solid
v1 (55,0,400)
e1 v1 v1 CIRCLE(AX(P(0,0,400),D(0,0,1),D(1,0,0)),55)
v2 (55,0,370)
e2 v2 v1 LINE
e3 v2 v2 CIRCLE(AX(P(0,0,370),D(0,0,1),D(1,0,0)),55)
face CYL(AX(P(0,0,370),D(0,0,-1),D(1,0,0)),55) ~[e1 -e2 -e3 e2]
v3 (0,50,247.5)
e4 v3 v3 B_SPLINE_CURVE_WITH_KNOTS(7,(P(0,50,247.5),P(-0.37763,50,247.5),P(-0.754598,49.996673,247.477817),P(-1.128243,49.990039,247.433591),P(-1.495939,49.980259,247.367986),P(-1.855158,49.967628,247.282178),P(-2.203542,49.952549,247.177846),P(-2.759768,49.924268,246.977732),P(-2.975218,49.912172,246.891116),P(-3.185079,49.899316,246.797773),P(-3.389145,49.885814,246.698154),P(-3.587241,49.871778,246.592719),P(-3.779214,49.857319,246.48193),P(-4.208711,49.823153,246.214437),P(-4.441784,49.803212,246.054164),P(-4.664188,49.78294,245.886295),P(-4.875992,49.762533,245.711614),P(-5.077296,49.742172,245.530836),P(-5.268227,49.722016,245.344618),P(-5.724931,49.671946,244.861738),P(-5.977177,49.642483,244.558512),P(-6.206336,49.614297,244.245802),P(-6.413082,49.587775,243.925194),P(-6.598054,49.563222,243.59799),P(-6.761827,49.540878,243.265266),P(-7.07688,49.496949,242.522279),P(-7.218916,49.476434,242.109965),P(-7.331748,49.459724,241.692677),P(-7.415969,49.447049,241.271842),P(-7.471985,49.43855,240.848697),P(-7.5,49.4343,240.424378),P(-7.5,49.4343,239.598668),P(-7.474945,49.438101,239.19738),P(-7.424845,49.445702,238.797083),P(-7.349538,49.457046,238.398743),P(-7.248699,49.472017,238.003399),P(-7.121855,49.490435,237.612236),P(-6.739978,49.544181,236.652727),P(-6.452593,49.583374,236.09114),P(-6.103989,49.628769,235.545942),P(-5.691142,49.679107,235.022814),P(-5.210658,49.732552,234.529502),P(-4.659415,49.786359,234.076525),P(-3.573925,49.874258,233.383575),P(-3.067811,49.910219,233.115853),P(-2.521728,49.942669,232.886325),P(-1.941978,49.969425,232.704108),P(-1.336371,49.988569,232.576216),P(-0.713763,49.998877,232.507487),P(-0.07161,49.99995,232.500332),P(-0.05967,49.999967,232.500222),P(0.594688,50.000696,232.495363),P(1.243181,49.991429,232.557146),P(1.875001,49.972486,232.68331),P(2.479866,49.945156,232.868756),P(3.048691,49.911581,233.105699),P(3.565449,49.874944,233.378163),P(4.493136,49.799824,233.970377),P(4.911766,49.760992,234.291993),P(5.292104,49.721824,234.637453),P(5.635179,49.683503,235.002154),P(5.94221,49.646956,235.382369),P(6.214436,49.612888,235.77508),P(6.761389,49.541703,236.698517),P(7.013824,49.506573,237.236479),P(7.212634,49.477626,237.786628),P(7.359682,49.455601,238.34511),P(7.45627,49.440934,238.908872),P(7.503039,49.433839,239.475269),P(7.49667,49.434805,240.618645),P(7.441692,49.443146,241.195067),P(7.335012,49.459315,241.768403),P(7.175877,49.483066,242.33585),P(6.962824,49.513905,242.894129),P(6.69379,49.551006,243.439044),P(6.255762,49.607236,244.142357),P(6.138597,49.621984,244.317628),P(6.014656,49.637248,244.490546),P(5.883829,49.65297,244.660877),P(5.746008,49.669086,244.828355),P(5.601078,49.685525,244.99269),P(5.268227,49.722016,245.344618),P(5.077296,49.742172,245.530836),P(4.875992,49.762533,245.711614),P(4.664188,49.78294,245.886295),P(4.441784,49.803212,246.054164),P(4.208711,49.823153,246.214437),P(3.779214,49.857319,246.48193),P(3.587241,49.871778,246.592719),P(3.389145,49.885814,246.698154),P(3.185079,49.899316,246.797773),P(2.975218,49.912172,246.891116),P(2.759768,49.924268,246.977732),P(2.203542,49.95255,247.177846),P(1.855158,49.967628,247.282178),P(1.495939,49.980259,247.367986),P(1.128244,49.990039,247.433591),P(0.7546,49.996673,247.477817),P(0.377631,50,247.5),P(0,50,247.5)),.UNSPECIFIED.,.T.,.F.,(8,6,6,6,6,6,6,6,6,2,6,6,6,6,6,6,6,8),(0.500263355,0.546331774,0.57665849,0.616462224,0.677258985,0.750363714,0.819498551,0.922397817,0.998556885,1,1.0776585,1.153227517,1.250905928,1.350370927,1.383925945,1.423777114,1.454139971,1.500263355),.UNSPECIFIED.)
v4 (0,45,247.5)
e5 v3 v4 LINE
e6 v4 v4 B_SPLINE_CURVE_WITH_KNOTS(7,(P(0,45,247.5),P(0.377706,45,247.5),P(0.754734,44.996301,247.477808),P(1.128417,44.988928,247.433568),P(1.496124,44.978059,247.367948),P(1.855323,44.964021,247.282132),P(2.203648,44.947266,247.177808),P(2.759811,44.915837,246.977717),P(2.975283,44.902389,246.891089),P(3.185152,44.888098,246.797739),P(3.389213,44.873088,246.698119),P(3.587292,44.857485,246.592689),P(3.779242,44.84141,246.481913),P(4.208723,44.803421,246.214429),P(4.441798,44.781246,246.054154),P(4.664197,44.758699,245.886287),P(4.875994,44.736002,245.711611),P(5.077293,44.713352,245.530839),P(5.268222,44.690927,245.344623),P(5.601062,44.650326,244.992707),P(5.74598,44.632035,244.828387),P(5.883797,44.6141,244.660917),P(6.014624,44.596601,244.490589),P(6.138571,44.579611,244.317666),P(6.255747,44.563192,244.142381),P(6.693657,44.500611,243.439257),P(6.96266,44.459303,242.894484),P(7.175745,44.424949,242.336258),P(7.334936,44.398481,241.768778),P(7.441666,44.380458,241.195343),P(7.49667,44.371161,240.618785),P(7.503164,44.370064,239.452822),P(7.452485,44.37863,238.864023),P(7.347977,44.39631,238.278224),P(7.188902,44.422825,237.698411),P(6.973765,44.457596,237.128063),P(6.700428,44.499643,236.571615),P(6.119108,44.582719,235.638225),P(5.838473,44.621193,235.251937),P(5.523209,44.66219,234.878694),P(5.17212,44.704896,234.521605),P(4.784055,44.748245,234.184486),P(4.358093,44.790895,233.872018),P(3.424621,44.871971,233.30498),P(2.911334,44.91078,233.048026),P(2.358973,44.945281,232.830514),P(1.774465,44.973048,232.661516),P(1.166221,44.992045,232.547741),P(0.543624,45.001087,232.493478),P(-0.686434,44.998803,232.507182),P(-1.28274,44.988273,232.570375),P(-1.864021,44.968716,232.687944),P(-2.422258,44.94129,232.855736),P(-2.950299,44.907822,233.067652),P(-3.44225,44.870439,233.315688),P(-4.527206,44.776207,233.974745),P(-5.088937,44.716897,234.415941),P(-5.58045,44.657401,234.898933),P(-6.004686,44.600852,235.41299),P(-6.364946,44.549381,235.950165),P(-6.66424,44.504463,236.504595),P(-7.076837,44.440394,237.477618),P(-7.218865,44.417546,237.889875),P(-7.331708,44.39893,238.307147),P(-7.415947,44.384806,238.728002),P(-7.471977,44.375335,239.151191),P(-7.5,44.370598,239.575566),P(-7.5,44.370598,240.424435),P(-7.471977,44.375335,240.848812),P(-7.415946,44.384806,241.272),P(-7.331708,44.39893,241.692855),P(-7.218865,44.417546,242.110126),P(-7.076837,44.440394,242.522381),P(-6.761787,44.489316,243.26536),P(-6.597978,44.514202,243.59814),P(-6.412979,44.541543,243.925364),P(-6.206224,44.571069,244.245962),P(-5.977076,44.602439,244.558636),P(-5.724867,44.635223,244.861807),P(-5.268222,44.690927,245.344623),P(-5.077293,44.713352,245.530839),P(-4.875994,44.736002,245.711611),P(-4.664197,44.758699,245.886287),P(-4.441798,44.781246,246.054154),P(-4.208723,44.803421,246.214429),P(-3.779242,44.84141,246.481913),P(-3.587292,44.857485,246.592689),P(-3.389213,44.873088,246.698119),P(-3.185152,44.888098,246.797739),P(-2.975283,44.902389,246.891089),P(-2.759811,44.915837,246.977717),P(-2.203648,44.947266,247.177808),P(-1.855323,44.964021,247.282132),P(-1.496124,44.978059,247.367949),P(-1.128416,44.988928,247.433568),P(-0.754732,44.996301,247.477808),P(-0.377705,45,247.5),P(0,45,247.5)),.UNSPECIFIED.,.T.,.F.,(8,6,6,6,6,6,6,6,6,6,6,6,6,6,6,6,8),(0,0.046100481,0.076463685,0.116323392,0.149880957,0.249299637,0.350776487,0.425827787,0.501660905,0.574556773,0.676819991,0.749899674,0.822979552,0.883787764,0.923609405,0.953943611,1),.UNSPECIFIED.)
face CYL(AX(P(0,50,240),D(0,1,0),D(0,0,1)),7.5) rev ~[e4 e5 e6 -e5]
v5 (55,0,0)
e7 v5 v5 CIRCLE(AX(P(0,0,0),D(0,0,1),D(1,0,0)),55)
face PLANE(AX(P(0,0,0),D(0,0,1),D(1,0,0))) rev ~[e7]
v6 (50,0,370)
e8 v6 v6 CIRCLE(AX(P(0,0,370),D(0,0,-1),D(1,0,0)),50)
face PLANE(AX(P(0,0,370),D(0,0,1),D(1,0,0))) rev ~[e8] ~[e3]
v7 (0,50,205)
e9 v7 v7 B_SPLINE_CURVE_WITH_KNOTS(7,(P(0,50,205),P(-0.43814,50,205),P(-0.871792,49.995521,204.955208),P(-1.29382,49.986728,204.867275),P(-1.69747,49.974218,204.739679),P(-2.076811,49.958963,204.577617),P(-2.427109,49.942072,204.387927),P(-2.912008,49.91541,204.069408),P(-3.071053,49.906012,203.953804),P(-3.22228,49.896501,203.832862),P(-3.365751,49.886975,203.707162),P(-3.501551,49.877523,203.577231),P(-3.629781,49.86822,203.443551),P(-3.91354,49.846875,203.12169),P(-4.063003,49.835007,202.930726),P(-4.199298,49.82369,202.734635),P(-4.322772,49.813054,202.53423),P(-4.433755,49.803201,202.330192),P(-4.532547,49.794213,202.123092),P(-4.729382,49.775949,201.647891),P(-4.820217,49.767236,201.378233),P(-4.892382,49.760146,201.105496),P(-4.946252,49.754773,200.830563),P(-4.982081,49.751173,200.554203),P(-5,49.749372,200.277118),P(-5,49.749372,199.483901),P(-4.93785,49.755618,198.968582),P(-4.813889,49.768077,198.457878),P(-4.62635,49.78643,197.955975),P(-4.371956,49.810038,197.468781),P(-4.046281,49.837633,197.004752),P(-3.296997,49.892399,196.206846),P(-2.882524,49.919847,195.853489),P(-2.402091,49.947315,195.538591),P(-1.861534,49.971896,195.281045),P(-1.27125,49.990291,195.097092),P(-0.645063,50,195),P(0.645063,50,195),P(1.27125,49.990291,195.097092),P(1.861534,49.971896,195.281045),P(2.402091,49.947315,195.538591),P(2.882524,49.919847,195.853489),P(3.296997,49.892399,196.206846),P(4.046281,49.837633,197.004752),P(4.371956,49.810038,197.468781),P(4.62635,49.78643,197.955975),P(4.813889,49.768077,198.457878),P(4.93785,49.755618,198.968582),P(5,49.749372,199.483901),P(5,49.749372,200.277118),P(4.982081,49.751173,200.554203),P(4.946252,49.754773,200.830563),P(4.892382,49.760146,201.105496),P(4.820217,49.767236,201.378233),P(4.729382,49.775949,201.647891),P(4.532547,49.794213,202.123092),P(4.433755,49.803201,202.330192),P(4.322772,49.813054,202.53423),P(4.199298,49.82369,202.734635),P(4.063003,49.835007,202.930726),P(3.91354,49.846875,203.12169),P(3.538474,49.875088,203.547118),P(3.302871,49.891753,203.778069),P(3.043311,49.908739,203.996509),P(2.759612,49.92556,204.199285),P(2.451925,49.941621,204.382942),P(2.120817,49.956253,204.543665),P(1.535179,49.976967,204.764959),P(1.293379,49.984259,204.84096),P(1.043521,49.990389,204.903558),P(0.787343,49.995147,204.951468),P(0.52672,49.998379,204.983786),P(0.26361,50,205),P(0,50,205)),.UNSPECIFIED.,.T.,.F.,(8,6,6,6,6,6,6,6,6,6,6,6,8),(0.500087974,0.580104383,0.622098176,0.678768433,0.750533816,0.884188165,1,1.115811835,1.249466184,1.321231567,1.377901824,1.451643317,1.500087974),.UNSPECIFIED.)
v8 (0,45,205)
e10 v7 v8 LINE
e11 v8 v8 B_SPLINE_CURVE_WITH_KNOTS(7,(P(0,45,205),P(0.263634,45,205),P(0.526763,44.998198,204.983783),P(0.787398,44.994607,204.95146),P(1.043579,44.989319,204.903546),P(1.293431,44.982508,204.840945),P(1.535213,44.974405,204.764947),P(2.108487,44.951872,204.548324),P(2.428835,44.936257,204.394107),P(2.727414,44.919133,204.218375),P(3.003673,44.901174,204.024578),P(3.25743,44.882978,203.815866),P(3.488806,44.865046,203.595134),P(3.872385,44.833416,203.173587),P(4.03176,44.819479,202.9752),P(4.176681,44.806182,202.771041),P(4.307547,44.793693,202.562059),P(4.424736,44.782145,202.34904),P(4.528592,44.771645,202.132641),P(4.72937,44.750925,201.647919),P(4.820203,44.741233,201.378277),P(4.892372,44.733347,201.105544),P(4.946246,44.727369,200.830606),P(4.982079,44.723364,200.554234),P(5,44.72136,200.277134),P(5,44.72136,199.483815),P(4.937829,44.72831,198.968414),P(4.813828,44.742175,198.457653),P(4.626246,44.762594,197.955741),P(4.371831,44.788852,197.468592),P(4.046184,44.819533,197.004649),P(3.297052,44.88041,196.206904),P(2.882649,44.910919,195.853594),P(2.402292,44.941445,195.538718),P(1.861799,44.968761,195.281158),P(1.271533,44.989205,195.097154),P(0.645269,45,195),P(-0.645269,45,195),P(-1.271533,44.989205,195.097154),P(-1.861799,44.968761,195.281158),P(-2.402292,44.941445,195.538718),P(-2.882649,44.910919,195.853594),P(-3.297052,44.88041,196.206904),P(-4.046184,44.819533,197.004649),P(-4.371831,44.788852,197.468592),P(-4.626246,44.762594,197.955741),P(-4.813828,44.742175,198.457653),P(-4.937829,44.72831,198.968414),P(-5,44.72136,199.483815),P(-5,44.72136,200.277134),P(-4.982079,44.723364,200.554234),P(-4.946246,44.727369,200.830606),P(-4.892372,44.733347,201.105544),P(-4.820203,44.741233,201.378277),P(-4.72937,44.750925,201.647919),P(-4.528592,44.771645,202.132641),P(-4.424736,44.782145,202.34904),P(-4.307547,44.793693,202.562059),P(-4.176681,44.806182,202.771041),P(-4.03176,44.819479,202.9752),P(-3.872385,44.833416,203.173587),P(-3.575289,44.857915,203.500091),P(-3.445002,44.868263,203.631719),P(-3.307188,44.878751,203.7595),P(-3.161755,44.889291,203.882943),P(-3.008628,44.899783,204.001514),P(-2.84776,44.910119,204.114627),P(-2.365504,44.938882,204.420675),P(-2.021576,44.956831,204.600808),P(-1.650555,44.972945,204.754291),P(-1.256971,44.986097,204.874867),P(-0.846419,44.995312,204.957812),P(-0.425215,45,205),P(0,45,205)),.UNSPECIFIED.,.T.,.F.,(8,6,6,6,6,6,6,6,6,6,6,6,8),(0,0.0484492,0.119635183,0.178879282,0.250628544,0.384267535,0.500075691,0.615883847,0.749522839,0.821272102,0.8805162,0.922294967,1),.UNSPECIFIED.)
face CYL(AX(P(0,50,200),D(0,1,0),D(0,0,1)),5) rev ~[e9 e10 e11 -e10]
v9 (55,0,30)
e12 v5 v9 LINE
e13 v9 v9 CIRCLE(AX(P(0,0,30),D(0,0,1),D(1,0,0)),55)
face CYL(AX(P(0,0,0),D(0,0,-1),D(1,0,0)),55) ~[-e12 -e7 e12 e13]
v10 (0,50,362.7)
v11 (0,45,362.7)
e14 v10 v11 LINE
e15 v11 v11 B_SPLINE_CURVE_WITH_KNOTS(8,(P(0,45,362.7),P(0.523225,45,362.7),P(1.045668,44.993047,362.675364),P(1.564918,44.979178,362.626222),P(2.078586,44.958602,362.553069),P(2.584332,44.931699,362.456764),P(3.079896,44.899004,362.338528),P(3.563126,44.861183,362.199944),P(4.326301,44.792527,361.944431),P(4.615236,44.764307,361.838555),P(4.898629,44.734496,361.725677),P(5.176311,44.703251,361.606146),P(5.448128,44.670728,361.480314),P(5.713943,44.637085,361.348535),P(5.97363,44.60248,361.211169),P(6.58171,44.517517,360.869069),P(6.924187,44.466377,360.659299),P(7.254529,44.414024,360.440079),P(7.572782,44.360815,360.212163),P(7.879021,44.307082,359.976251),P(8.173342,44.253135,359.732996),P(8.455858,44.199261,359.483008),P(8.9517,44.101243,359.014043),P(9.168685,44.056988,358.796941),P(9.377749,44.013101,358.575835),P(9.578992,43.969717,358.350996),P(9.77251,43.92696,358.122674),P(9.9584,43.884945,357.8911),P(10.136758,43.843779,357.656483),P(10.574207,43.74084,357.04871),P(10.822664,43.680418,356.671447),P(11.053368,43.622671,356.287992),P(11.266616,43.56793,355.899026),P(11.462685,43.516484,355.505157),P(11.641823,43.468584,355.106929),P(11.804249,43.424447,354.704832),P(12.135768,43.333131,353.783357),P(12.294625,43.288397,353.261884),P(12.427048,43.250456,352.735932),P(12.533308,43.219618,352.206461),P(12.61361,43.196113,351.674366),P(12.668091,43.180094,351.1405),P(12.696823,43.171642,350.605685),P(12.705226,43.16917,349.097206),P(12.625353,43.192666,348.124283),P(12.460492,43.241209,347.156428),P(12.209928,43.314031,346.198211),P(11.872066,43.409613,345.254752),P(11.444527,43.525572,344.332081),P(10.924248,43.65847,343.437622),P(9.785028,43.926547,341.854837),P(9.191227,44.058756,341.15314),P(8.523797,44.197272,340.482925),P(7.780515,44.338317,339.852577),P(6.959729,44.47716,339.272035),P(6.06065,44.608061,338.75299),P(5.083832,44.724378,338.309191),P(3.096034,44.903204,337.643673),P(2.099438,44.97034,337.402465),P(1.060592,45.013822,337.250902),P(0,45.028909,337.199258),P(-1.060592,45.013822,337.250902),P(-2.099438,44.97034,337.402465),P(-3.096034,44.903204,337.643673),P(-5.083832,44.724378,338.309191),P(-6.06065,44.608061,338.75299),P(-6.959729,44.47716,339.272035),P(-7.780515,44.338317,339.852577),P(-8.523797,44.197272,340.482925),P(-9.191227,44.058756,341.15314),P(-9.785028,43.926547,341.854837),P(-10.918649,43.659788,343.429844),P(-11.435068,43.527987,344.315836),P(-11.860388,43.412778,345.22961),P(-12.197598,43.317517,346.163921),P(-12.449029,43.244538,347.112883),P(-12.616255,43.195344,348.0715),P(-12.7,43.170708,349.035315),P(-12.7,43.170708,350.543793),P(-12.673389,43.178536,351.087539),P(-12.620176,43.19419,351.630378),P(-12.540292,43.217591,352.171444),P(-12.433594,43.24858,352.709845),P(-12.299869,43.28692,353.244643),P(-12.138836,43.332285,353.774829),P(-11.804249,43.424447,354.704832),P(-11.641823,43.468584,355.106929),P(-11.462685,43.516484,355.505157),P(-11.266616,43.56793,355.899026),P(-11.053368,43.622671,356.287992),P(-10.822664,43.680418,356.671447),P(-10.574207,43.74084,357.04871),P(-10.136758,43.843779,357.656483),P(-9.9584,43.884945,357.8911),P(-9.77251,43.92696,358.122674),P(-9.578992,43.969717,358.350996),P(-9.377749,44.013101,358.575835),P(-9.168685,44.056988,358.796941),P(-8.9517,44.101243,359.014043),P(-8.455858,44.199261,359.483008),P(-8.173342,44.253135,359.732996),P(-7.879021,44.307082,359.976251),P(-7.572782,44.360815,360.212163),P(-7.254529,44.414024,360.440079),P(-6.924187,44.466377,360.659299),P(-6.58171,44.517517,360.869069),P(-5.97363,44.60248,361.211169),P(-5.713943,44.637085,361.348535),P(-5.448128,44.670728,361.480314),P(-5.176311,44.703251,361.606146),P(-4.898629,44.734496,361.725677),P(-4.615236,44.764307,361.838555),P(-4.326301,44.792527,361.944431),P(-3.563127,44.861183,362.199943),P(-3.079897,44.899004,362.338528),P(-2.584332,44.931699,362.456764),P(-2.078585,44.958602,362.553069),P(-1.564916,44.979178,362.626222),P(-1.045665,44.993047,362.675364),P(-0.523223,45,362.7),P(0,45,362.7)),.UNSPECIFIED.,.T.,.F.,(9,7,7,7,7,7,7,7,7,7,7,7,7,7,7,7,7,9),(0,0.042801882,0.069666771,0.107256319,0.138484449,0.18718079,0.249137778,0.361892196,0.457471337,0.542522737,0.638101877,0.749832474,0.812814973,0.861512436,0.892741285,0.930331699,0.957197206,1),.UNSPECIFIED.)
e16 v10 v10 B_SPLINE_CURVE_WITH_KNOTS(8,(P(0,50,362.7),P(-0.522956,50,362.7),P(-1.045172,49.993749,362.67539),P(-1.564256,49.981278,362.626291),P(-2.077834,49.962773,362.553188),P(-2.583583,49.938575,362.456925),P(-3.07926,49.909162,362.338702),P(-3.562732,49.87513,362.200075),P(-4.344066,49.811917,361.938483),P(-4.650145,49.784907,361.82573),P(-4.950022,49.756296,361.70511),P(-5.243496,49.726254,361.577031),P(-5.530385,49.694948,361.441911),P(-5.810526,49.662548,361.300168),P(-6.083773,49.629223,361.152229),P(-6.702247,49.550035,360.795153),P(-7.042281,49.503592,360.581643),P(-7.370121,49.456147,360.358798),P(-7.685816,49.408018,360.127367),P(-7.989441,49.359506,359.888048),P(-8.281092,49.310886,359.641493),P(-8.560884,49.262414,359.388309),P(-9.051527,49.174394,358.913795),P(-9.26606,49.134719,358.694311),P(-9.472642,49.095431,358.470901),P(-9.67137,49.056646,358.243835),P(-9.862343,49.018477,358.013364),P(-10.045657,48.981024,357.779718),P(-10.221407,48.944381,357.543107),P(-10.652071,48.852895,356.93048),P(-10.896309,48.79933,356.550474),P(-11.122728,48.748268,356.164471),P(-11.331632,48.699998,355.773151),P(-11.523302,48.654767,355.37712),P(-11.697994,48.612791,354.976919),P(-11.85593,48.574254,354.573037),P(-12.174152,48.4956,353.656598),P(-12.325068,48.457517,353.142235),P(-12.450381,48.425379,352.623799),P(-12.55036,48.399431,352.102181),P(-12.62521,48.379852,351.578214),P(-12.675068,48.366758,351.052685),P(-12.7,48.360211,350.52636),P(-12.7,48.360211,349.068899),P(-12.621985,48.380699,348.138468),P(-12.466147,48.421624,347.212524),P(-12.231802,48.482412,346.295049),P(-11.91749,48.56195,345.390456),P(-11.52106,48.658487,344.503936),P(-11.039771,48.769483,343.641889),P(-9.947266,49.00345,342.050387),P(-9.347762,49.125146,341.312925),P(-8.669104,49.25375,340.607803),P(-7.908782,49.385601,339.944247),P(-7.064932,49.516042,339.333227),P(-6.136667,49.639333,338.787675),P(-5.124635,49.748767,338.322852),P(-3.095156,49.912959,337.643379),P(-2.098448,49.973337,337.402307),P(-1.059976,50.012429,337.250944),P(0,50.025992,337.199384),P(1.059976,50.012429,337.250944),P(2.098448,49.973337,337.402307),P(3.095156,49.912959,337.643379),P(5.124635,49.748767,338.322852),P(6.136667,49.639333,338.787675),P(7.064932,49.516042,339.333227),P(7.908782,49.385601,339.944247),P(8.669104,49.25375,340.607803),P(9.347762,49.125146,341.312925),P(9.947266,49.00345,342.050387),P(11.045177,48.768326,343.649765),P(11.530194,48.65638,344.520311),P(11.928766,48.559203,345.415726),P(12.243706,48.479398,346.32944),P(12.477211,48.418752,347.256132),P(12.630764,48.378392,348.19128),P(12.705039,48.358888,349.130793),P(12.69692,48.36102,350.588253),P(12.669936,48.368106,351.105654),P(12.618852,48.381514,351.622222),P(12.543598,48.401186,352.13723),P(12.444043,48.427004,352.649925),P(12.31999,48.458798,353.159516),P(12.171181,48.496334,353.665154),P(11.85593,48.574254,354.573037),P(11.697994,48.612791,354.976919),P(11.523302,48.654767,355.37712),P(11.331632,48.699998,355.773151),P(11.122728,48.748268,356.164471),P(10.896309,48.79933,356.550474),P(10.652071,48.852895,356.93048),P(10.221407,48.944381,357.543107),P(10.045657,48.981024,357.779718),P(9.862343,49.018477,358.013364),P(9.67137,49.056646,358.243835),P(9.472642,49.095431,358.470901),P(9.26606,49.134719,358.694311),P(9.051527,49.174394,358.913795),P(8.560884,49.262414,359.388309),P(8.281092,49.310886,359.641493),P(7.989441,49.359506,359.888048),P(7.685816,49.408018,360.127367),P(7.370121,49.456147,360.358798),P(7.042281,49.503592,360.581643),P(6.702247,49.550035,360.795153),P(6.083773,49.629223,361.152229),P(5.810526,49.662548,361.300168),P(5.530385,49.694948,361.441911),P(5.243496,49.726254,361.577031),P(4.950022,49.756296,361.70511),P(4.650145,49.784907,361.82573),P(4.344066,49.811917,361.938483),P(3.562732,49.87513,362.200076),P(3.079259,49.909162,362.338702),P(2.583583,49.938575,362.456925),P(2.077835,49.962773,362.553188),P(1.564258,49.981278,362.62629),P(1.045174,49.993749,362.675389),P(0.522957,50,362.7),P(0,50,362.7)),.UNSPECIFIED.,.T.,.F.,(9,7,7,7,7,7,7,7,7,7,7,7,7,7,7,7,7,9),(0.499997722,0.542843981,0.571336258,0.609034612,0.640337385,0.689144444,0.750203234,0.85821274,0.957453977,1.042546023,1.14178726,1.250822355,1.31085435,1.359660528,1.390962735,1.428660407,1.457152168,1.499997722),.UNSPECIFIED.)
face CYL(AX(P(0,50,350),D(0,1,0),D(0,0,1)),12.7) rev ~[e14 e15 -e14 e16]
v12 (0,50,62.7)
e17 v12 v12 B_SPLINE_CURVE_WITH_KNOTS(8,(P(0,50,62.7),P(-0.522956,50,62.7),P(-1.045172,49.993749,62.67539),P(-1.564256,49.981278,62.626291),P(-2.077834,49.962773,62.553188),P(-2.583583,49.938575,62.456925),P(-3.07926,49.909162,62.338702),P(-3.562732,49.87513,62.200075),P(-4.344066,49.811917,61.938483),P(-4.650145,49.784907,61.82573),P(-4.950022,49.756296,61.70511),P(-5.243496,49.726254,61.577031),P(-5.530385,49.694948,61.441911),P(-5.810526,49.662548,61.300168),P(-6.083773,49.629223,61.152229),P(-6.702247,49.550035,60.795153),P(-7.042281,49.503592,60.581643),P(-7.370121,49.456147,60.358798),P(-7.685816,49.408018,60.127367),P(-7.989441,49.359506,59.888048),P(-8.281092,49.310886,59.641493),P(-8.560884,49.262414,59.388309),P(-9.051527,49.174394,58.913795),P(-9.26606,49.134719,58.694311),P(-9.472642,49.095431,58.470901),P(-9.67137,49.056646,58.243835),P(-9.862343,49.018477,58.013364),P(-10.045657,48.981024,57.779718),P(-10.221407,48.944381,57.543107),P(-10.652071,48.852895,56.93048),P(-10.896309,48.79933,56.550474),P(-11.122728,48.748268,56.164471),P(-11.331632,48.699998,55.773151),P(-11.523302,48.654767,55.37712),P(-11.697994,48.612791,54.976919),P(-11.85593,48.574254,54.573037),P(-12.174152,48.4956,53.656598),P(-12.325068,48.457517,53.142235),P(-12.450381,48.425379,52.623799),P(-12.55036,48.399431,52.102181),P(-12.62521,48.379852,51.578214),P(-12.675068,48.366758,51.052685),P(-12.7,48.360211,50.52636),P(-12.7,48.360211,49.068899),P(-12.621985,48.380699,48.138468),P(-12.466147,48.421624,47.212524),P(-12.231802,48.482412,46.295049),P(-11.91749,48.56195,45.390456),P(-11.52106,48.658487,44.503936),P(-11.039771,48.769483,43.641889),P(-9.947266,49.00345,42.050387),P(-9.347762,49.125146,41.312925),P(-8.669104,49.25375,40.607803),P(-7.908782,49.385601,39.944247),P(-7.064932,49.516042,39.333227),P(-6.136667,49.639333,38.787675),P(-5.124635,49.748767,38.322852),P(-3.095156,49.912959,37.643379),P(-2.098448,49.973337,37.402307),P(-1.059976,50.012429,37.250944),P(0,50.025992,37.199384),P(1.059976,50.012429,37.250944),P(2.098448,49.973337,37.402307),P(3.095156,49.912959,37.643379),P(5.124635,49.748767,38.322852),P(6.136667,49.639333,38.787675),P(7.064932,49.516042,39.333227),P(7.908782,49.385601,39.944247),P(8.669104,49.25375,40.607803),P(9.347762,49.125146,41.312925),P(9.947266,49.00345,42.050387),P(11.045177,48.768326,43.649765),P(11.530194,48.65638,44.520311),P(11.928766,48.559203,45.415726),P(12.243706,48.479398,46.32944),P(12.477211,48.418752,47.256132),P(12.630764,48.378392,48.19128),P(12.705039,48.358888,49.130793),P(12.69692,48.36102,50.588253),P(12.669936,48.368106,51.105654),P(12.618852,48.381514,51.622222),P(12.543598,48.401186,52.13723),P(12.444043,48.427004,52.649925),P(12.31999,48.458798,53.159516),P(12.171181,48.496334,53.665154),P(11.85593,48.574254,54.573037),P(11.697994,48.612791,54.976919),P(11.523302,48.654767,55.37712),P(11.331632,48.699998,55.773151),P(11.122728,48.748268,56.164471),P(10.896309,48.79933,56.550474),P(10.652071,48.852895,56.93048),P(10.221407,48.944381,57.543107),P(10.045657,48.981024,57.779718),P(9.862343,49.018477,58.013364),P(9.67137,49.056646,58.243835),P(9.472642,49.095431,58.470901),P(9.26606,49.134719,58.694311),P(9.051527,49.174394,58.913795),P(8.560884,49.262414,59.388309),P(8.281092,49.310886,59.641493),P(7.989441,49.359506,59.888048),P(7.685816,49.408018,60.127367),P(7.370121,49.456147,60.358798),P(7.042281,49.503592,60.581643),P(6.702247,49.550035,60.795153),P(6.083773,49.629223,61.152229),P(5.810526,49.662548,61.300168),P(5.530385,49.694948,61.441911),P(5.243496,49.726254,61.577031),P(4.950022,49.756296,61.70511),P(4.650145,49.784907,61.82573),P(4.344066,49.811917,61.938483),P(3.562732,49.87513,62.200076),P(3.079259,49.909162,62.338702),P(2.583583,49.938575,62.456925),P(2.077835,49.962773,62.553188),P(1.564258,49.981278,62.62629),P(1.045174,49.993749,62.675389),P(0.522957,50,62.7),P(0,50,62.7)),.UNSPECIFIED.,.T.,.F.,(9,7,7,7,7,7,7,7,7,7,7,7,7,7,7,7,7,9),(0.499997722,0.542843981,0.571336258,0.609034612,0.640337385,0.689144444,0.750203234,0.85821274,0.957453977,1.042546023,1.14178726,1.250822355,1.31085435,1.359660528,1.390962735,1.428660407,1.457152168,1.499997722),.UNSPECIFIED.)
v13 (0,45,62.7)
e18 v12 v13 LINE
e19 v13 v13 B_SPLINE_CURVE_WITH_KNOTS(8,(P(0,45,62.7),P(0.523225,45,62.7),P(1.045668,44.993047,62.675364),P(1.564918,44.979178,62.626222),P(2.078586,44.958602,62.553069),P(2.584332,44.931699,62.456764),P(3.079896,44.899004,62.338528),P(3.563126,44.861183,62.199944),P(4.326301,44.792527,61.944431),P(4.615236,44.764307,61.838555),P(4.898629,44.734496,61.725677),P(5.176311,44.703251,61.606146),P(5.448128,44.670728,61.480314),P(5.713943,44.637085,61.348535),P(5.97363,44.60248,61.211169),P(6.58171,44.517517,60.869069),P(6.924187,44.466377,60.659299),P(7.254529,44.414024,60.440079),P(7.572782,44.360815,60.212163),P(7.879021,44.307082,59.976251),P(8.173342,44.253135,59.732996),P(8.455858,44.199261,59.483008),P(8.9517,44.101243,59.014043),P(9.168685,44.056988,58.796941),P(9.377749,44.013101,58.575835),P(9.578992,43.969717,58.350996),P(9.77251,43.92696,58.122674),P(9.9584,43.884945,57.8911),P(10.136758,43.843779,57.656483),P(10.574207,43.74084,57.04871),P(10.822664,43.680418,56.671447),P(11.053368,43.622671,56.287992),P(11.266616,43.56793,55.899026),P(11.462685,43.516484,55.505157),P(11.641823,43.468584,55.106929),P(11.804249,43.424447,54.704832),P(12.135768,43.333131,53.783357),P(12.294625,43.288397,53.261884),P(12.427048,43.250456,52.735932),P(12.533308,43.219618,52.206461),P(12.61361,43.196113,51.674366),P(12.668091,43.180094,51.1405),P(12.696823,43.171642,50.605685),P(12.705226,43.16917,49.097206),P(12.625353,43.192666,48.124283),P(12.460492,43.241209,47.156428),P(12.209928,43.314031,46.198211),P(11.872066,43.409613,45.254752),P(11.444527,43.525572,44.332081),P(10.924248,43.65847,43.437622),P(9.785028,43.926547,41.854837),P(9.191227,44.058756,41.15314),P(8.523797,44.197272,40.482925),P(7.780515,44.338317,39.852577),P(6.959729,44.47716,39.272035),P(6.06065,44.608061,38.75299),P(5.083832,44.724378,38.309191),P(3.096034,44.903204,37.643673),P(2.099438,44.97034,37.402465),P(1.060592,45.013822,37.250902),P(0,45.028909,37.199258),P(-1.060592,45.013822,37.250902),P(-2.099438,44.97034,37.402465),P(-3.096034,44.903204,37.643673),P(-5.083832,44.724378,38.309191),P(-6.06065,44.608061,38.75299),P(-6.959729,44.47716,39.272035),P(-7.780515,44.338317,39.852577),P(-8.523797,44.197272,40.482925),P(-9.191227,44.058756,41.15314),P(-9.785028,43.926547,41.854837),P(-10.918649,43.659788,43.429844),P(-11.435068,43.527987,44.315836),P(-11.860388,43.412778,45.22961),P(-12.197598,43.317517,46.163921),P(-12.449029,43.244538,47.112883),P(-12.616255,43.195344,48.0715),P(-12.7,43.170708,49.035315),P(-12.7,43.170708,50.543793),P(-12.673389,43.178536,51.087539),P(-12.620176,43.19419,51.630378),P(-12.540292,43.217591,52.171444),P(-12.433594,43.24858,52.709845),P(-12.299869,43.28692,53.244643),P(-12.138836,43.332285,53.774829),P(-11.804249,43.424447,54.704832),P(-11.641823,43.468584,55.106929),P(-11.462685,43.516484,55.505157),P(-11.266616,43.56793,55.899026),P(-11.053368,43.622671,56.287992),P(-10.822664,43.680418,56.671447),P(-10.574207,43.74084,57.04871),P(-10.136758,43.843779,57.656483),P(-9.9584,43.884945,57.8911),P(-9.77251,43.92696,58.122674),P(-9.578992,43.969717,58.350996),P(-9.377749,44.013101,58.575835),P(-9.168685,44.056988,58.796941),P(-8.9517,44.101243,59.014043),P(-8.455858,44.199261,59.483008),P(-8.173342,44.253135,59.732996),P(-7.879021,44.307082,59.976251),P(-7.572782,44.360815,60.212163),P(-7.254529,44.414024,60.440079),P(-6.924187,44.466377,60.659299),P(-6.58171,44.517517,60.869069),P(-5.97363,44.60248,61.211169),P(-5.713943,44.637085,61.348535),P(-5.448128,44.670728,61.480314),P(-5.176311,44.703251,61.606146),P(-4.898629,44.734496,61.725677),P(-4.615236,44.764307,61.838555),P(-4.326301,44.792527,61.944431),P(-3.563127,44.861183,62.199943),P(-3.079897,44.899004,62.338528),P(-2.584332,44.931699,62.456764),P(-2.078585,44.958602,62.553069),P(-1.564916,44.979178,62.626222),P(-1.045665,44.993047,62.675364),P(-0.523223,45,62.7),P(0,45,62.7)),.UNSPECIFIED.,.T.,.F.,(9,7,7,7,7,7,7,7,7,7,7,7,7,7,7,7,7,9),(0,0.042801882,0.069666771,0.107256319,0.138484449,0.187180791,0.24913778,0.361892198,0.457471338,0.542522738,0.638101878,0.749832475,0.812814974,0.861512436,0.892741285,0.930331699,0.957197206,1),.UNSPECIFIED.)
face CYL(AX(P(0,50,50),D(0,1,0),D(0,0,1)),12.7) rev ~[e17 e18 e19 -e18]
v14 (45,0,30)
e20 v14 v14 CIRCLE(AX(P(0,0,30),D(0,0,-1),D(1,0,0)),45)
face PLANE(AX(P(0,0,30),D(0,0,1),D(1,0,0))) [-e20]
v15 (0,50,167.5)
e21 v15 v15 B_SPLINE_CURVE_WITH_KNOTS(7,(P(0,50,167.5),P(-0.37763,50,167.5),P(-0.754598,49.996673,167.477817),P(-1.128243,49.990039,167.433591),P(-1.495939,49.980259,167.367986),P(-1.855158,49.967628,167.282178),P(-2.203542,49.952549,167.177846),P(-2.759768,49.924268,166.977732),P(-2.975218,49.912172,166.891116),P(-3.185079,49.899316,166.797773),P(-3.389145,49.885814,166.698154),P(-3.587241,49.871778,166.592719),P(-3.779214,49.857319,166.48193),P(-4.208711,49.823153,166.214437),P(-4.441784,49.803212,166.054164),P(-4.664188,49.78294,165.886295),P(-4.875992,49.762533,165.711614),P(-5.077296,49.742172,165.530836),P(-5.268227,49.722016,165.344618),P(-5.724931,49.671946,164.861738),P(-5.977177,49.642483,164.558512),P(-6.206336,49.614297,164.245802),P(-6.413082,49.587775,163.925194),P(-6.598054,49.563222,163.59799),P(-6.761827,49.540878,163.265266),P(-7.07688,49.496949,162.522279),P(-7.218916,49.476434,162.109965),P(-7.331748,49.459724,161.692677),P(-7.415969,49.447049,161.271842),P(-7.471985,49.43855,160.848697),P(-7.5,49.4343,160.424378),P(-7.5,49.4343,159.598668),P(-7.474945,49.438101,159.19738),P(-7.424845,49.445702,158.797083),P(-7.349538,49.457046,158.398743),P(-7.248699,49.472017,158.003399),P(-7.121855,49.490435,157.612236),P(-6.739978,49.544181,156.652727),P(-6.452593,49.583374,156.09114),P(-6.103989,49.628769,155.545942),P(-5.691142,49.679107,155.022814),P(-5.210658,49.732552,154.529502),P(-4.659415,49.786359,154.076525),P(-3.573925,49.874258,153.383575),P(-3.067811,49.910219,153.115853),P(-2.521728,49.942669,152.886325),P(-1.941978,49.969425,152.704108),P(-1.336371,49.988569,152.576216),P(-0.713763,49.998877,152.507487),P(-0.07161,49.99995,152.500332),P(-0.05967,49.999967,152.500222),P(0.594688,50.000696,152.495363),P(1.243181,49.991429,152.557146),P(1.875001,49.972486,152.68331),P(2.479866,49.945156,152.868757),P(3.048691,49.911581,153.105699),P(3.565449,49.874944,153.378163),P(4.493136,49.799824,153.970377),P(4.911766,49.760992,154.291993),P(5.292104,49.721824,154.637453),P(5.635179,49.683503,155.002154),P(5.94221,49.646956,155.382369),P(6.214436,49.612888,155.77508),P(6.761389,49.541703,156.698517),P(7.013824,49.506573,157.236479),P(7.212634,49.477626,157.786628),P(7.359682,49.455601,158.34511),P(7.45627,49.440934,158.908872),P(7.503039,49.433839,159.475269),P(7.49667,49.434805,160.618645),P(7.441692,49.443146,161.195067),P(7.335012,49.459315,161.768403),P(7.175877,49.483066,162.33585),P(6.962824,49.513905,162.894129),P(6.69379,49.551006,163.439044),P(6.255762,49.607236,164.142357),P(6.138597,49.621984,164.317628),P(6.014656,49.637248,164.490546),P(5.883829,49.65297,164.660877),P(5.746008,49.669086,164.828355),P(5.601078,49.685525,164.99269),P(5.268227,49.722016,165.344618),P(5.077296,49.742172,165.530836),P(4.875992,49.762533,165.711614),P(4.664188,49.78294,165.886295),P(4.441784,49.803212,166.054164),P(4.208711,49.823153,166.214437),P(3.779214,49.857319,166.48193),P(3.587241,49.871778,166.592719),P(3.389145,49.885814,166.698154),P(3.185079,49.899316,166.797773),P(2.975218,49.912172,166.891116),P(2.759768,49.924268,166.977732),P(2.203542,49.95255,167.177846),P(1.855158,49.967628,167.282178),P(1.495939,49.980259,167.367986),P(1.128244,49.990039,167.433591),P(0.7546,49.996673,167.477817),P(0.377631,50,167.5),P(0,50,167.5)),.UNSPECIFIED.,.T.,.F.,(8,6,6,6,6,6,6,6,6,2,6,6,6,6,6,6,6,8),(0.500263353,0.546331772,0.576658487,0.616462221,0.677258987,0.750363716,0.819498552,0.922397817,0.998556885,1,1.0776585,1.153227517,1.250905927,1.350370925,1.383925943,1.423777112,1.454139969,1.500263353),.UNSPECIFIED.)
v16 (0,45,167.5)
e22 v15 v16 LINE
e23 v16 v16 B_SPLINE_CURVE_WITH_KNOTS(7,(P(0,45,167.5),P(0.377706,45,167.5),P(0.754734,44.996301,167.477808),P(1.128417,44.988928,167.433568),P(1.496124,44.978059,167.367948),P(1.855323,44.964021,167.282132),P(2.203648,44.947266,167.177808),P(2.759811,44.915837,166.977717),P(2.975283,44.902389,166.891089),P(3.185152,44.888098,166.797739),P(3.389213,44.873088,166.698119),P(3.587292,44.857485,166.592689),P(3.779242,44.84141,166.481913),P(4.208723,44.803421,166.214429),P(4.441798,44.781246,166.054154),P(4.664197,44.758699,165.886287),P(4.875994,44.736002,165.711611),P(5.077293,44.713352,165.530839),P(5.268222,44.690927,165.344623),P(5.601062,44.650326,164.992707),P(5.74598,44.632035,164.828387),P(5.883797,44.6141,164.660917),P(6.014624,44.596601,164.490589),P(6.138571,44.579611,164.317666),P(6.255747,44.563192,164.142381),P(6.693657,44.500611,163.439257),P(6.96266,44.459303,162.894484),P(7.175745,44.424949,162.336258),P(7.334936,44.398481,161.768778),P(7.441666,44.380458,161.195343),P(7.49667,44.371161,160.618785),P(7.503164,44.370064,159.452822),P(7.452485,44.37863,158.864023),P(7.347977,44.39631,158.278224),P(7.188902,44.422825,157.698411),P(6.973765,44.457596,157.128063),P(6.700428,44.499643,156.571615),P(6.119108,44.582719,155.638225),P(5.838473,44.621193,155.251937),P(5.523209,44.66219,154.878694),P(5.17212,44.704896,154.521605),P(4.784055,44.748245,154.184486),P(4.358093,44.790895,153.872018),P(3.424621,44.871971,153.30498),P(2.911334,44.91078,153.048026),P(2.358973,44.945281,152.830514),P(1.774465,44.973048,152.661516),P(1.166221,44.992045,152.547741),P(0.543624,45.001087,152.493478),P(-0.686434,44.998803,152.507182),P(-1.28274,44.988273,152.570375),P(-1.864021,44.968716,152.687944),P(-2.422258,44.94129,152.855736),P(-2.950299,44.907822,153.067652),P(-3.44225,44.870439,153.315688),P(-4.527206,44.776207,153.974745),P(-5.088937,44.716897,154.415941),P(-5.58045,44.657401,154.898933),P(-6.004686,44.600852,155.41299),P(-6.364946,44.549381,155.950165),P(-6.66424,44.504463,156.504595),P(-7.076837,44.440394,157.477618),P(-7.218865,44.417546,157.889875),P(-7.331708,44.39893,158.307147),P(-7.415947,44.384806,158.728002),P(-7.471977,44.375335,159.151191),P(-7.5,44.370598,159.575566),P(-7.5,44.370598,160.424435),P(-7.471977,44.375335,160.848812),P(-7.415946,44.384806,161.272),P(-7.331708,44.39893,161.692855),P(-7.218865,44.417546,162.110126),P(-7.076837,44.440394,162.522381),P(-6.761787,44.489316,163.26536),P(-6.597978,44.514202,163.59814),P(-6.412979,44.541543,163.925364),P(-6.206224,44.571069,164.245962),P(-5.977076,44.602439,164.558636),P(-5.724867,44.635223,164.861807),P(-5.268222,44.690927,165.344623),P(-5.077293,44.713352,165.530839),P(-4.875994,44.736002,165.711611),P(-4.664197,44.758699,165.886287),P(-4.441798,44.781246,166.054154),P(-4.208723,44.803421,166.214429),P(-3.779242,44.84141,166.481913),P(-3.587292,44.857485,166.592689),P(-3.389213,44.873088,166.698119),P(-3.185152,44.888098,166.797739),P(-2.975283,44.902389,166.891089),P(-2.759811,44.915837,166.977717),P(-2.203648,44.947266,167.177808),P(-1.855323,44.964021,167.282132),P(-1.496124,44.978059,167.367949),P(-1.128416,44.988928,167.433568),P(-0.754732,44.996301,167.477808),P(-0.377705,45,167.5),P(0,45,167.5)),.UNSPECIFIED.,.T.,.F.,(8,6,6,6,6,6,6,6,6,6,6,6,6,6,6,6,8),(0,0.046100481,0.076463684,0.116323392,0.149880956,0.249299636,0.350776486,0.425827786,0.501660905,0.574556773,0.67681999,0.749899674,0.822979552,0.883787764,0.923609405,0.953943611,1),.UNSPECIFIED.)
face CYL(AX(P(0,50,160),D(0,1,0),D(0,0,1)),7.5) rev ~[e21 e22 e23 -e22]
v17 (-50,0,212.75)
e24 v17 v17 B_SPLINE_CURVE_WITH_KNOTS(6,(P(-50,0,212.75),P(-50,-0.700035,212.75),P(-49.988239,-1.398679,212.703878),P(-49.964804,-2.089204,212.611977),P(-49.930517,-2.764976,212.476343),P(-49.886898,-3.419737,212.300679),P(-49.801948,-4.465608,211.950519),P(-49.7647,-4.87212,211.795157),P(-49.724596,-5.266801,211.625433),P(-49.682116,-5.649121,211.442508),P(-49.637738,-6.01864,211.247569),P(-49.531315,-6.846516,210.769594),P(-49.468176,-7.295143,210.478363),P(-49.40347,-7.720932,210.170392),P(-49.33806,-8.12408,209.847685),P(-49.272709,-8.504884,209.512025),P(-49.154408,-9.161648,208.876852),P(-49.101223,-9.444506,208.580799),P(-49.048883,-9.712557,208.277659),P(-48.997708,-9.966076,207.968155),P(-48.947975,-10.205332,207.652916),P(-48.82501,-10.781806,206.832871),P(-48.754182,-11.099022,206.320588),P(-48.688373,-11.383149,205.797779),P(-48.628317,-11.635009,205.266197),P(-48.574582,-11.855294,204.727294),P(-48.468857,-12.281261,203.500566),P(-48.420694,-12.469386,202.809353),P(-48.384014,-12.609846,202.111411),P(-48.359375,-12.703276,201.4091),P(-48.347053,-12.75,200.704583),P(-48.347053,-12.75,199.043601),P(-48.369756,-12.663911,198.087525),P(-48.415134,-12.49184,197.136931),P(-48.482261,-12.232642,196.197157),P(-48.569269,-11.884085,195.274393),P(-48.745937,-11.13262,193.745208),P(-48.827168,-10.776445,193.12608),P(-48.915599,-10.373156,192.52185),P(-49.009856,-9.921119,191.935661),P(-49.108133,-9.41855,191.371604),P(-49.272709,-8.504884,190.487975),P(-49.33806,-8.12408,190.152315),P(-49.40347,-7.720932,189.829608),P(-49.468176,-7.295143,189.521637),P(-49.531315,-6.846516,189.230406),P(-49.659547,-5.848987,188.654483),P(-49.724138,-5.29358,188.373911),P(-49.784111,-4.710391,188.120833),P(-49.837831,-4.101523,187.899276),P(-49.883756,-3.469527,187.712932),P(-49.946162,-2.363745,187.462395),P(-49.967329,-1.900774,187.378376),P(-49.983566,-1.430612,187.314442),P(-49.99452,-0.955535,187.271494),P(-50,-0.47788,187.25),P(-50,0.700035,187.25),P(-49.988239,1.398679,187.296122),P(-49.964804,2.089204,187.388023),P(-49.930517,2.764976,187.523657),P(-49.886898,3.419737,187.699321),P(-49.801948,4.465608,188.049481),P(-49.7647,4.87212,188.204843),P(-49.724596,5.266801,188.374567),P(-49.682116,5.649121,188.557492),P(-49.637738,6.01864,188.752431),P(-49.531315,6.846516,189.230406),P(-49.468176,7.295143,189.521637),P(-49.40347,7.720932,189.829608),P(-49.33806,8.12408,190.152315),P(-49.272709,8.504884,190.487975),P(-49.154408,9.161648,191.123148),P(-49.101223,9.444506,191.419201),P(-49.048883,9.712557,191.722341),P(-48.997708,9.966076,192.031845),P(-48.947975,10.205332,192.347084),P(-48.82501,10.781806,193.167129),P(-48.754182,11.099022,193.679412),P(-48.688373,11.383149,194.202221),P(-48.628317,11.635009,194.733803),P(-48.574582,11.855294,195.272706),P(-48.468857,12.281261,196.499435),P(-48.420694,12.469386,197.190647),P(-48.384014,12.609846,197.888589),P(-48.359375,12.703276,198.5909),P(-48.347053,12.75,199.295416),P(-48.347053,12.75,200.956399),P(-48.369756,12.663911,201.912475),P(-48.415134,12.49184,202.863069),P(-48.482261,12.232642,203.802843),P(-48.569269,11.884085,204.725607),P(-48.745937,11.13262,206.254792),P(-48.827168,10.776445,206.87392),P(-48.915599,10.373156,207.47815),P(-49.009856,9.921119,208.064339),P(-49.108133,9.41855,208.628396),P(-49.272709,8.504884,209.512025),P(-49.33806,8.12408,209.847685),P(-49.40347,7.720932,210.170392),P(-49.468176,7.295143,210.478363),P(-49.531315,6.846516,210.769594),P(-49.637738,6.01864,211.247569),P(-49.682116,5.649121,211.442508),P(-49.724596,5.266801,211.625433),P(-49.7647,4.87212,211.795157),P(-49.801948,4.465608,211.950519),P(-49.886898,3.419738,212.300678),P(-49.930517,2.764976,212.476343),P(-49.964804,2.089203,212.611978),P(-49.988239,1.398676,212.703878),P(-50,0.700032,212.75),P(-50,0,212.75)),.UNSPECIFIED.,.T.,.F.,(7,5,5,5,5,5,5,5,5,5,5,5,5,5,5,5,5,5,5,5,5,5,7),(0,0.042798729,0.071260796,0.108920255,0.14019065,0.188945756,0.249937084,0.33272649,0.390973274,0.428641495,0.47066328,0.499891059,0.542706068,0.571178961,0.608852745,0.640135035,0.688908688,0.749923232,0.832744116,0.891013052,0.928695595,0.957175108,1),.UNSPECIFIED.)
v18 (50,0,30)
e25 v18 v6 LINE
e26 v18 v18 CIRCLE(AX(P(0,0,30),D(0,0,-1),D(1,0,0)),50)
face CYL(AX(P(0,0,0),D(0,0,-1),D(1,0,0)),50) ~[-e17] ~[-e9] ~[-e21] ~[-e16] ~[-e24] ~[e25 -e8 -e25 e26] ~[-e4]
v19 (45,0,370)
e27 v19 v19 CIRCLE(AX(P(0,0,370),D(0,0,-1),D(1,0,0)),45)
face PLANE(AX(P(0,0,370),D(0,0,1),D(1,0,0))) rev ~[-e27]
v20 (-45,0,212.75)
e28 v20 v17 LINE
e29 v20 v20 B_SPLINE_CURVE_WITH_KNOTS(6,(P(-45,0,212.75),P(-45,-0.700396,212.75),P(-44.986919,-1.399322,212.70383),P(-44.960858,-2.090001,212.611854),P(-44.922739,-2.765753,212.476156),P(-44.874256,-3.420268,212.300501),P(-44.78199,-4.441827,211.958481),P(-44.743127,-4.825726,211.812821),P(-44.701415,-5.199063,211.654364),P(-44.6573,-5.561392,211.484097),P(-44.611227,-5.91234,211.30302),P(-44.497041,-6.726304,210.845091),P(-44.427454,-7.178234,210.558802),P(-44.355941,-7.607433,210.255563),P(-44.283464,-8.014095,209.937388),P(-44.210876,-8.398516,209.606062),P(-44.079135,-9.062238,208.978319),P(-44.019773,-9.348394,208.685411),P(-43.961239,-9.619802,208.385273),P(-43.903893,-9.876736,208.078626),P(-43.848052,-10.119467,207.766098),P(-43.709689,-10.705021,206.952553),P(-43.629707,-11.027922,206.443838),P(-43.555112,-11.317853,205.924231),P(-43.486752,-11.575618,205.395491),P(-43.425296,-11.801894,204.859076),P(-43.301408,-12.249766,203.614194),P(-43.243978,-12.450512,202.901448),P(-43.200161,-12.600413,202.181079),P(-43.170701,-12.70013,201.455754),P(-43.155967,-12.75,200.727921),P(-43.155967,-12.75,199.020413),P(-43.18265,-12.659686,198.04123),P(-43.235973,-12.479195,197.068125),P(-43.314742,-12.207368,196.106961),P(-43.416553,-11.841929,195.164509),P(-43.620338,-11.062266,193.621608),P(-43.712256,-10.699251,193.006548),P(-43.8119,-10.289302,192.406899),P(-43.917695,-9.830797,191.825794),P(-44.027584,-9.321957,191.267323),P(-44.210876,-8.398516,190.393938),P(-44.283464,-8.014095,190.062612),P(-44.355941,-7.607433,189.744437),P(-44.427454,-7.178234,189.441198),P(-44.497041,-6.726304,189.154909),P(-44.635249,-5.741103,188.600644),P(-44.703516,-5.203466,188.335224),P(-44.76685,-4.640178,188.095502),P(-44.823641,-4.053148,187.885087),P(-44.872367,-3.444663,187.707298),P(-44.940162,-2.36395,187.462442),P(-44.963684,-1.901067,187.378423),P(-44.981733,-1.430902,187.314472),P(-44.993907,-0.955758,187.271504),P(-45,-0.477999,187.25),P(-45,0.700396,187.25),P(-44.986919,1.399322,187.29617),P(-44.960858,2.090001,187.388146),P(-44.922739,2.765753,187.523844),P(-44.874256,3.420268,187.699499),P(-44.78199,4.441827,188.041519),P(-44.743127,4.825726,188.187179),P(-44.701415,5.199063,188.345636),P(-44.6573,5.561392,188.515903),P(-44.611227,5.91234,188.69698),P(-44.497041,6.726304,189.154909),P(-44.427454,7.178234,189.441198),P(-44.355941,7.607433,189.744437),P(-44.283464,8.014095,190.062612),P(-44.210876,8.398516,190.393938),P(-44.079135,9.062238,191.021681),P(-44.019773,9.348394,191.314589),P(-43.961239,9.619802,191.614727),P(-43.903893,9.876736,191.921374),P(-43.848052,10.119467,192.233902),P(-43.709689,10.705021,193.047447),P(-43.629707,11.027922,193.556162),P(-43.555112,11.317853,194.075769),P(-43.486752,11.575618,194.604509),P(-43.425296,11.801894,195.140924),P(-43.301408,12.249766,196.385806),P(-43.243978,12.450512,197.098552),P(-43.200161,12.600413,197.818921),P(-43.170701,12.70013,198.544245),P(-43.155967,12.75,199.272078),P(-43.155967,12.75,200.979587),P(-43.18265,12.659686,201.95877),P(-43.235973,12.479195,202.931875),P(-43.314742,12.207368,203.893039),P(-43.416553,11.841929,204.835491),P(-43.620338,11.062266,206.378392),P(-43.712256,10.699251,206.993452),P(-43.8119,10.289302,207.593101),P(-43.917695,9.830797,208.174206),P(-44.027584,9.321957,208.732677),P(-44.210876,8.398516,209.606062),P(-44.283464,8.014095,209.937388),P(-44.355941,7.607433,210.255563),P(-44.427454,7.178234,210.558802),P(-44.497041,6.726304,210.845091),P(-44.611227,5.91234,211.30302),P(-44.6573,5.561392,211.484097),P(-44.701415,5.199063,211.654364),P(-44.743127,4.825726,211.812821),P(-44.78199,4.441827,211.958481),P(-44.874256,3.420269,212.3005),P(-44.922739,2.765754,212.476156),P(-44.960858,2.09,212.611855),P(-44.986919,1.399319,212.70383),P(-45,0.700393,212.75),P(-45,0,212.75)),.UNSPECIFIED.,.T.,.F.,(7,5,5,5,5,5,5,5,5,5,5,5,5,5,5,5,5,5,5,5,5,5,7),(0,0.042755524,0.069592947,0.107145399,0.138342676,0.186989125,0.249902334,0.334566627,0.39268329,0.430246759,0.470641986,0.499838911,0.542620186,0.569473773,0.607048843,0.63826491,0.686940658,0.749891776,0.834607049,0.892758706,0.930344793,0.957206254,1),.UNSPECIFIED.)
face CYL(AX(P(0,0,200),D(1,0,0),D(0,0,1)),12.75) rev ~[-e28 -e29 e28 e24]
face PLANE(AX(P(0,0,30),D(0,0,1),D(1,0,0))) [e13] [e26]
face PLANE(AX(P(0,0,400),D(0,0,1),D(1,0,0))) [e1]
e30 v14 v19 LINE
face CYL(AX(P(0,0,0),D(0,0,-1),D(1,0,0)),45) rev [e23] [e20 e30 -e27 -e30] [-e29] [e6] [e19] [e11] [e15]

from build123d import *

# Parameters (mm, degrees)
CROQUIS1_R              = 50
CROQUIS1_R_2            = 45
SALIENTE_EXTRUIR1_DEPTH = 400
CROQUIS2_R              = 55
SALIENTE_EXTRUIR2_DEPTH = 30
SALIENTE_EXTRUIR3_START = -30
CROQUIS3_R              = 55
SALIENTE_EXTRUIR3_DEPTH = 30
CROQUIS4_R              = 12.75
CORTAR_EXTRUIR1_DEPTH   = 179
CROQUIS5_R              = 7.5
CROQUIS5_R_2            = 5
CROQUIS5_R_3            = 12.7
CORTAR_EXTRUIR2_DEPTH   = 60


with BuildPart() as part:
    # Croquis1 → Saliente-Extruir1 (new body)
    with BuildSketch(Plane.XY):
        Circle(CROQUIS1_R)
        Circle(CROQUIS1_R_2, mode=Mode.SUBTRACT)
    extrude(amount=SALIENTE_EXTRUIR1_DEPTH)

    # Croquis2 → Saliente-Extruir2 (add)
    with BuildSketch(Plane.XY):
        Circle(CROQUIS2_R)
    extrude(amount=SALIENTE_EXTRUIR2_DEPTH)

    # Croquis3 → Saliente-Extruir3 (add)
    with BuildSketch(Plane.XY.offset(400).offset(SALIENTE_EXTRUIR3_START)):
        Circle(CROQUIS3_R)
    extrude(amount=SALIENTE_EXTRUIR3_DEPTH)

    # Croquis4 → Cortar-Extruir1 (cut)
    with BuildSketch(Plane(origin=(0, 0, 0), x_dir=(0, 0, -1), z_dir=(1, 0, 0))):
        with Locations(Location((-200, 0, 0), (0, 0, 180))):
            Circle(CROQUIS4_R)
    extrude(amount=-CORTAR_EXTRUIR1_DEPTH, mode=Mode.SUBTRACT)

    # Croquis5 → Cortar-Extruir2 (cut)
    with BuildSketch(Plane(origin=(0, 50, 0), x_dir=(1, 0, 0), z_dir=(0, 1, 0))):
        with Locations(Location((0, -240, 0), (0, 0, 270))):
            Circle(CROQUIS5_R)
        with Locations(Location((0, -160, 0), (0, 0, 270))):
            Circle(CROQUIS5_R)
        with Locations(Location((0, -200, 0), (0, 0, 270))):
            Circle(CROQUIS5_R_2)
        with Locations(Location((0, -350, 0), (0, 0, 270))):
            Circle(CROQUIS5_R_3)
        with Locations(Location((0, -50, 0), (0, 0, 270))):
            Circle(CROQUIS5_R_3)
    extrude(amount=-CORTAR_EXTRUIR2_DEPTH, mode=Mode.SUBTRACT)


solid = part.part
